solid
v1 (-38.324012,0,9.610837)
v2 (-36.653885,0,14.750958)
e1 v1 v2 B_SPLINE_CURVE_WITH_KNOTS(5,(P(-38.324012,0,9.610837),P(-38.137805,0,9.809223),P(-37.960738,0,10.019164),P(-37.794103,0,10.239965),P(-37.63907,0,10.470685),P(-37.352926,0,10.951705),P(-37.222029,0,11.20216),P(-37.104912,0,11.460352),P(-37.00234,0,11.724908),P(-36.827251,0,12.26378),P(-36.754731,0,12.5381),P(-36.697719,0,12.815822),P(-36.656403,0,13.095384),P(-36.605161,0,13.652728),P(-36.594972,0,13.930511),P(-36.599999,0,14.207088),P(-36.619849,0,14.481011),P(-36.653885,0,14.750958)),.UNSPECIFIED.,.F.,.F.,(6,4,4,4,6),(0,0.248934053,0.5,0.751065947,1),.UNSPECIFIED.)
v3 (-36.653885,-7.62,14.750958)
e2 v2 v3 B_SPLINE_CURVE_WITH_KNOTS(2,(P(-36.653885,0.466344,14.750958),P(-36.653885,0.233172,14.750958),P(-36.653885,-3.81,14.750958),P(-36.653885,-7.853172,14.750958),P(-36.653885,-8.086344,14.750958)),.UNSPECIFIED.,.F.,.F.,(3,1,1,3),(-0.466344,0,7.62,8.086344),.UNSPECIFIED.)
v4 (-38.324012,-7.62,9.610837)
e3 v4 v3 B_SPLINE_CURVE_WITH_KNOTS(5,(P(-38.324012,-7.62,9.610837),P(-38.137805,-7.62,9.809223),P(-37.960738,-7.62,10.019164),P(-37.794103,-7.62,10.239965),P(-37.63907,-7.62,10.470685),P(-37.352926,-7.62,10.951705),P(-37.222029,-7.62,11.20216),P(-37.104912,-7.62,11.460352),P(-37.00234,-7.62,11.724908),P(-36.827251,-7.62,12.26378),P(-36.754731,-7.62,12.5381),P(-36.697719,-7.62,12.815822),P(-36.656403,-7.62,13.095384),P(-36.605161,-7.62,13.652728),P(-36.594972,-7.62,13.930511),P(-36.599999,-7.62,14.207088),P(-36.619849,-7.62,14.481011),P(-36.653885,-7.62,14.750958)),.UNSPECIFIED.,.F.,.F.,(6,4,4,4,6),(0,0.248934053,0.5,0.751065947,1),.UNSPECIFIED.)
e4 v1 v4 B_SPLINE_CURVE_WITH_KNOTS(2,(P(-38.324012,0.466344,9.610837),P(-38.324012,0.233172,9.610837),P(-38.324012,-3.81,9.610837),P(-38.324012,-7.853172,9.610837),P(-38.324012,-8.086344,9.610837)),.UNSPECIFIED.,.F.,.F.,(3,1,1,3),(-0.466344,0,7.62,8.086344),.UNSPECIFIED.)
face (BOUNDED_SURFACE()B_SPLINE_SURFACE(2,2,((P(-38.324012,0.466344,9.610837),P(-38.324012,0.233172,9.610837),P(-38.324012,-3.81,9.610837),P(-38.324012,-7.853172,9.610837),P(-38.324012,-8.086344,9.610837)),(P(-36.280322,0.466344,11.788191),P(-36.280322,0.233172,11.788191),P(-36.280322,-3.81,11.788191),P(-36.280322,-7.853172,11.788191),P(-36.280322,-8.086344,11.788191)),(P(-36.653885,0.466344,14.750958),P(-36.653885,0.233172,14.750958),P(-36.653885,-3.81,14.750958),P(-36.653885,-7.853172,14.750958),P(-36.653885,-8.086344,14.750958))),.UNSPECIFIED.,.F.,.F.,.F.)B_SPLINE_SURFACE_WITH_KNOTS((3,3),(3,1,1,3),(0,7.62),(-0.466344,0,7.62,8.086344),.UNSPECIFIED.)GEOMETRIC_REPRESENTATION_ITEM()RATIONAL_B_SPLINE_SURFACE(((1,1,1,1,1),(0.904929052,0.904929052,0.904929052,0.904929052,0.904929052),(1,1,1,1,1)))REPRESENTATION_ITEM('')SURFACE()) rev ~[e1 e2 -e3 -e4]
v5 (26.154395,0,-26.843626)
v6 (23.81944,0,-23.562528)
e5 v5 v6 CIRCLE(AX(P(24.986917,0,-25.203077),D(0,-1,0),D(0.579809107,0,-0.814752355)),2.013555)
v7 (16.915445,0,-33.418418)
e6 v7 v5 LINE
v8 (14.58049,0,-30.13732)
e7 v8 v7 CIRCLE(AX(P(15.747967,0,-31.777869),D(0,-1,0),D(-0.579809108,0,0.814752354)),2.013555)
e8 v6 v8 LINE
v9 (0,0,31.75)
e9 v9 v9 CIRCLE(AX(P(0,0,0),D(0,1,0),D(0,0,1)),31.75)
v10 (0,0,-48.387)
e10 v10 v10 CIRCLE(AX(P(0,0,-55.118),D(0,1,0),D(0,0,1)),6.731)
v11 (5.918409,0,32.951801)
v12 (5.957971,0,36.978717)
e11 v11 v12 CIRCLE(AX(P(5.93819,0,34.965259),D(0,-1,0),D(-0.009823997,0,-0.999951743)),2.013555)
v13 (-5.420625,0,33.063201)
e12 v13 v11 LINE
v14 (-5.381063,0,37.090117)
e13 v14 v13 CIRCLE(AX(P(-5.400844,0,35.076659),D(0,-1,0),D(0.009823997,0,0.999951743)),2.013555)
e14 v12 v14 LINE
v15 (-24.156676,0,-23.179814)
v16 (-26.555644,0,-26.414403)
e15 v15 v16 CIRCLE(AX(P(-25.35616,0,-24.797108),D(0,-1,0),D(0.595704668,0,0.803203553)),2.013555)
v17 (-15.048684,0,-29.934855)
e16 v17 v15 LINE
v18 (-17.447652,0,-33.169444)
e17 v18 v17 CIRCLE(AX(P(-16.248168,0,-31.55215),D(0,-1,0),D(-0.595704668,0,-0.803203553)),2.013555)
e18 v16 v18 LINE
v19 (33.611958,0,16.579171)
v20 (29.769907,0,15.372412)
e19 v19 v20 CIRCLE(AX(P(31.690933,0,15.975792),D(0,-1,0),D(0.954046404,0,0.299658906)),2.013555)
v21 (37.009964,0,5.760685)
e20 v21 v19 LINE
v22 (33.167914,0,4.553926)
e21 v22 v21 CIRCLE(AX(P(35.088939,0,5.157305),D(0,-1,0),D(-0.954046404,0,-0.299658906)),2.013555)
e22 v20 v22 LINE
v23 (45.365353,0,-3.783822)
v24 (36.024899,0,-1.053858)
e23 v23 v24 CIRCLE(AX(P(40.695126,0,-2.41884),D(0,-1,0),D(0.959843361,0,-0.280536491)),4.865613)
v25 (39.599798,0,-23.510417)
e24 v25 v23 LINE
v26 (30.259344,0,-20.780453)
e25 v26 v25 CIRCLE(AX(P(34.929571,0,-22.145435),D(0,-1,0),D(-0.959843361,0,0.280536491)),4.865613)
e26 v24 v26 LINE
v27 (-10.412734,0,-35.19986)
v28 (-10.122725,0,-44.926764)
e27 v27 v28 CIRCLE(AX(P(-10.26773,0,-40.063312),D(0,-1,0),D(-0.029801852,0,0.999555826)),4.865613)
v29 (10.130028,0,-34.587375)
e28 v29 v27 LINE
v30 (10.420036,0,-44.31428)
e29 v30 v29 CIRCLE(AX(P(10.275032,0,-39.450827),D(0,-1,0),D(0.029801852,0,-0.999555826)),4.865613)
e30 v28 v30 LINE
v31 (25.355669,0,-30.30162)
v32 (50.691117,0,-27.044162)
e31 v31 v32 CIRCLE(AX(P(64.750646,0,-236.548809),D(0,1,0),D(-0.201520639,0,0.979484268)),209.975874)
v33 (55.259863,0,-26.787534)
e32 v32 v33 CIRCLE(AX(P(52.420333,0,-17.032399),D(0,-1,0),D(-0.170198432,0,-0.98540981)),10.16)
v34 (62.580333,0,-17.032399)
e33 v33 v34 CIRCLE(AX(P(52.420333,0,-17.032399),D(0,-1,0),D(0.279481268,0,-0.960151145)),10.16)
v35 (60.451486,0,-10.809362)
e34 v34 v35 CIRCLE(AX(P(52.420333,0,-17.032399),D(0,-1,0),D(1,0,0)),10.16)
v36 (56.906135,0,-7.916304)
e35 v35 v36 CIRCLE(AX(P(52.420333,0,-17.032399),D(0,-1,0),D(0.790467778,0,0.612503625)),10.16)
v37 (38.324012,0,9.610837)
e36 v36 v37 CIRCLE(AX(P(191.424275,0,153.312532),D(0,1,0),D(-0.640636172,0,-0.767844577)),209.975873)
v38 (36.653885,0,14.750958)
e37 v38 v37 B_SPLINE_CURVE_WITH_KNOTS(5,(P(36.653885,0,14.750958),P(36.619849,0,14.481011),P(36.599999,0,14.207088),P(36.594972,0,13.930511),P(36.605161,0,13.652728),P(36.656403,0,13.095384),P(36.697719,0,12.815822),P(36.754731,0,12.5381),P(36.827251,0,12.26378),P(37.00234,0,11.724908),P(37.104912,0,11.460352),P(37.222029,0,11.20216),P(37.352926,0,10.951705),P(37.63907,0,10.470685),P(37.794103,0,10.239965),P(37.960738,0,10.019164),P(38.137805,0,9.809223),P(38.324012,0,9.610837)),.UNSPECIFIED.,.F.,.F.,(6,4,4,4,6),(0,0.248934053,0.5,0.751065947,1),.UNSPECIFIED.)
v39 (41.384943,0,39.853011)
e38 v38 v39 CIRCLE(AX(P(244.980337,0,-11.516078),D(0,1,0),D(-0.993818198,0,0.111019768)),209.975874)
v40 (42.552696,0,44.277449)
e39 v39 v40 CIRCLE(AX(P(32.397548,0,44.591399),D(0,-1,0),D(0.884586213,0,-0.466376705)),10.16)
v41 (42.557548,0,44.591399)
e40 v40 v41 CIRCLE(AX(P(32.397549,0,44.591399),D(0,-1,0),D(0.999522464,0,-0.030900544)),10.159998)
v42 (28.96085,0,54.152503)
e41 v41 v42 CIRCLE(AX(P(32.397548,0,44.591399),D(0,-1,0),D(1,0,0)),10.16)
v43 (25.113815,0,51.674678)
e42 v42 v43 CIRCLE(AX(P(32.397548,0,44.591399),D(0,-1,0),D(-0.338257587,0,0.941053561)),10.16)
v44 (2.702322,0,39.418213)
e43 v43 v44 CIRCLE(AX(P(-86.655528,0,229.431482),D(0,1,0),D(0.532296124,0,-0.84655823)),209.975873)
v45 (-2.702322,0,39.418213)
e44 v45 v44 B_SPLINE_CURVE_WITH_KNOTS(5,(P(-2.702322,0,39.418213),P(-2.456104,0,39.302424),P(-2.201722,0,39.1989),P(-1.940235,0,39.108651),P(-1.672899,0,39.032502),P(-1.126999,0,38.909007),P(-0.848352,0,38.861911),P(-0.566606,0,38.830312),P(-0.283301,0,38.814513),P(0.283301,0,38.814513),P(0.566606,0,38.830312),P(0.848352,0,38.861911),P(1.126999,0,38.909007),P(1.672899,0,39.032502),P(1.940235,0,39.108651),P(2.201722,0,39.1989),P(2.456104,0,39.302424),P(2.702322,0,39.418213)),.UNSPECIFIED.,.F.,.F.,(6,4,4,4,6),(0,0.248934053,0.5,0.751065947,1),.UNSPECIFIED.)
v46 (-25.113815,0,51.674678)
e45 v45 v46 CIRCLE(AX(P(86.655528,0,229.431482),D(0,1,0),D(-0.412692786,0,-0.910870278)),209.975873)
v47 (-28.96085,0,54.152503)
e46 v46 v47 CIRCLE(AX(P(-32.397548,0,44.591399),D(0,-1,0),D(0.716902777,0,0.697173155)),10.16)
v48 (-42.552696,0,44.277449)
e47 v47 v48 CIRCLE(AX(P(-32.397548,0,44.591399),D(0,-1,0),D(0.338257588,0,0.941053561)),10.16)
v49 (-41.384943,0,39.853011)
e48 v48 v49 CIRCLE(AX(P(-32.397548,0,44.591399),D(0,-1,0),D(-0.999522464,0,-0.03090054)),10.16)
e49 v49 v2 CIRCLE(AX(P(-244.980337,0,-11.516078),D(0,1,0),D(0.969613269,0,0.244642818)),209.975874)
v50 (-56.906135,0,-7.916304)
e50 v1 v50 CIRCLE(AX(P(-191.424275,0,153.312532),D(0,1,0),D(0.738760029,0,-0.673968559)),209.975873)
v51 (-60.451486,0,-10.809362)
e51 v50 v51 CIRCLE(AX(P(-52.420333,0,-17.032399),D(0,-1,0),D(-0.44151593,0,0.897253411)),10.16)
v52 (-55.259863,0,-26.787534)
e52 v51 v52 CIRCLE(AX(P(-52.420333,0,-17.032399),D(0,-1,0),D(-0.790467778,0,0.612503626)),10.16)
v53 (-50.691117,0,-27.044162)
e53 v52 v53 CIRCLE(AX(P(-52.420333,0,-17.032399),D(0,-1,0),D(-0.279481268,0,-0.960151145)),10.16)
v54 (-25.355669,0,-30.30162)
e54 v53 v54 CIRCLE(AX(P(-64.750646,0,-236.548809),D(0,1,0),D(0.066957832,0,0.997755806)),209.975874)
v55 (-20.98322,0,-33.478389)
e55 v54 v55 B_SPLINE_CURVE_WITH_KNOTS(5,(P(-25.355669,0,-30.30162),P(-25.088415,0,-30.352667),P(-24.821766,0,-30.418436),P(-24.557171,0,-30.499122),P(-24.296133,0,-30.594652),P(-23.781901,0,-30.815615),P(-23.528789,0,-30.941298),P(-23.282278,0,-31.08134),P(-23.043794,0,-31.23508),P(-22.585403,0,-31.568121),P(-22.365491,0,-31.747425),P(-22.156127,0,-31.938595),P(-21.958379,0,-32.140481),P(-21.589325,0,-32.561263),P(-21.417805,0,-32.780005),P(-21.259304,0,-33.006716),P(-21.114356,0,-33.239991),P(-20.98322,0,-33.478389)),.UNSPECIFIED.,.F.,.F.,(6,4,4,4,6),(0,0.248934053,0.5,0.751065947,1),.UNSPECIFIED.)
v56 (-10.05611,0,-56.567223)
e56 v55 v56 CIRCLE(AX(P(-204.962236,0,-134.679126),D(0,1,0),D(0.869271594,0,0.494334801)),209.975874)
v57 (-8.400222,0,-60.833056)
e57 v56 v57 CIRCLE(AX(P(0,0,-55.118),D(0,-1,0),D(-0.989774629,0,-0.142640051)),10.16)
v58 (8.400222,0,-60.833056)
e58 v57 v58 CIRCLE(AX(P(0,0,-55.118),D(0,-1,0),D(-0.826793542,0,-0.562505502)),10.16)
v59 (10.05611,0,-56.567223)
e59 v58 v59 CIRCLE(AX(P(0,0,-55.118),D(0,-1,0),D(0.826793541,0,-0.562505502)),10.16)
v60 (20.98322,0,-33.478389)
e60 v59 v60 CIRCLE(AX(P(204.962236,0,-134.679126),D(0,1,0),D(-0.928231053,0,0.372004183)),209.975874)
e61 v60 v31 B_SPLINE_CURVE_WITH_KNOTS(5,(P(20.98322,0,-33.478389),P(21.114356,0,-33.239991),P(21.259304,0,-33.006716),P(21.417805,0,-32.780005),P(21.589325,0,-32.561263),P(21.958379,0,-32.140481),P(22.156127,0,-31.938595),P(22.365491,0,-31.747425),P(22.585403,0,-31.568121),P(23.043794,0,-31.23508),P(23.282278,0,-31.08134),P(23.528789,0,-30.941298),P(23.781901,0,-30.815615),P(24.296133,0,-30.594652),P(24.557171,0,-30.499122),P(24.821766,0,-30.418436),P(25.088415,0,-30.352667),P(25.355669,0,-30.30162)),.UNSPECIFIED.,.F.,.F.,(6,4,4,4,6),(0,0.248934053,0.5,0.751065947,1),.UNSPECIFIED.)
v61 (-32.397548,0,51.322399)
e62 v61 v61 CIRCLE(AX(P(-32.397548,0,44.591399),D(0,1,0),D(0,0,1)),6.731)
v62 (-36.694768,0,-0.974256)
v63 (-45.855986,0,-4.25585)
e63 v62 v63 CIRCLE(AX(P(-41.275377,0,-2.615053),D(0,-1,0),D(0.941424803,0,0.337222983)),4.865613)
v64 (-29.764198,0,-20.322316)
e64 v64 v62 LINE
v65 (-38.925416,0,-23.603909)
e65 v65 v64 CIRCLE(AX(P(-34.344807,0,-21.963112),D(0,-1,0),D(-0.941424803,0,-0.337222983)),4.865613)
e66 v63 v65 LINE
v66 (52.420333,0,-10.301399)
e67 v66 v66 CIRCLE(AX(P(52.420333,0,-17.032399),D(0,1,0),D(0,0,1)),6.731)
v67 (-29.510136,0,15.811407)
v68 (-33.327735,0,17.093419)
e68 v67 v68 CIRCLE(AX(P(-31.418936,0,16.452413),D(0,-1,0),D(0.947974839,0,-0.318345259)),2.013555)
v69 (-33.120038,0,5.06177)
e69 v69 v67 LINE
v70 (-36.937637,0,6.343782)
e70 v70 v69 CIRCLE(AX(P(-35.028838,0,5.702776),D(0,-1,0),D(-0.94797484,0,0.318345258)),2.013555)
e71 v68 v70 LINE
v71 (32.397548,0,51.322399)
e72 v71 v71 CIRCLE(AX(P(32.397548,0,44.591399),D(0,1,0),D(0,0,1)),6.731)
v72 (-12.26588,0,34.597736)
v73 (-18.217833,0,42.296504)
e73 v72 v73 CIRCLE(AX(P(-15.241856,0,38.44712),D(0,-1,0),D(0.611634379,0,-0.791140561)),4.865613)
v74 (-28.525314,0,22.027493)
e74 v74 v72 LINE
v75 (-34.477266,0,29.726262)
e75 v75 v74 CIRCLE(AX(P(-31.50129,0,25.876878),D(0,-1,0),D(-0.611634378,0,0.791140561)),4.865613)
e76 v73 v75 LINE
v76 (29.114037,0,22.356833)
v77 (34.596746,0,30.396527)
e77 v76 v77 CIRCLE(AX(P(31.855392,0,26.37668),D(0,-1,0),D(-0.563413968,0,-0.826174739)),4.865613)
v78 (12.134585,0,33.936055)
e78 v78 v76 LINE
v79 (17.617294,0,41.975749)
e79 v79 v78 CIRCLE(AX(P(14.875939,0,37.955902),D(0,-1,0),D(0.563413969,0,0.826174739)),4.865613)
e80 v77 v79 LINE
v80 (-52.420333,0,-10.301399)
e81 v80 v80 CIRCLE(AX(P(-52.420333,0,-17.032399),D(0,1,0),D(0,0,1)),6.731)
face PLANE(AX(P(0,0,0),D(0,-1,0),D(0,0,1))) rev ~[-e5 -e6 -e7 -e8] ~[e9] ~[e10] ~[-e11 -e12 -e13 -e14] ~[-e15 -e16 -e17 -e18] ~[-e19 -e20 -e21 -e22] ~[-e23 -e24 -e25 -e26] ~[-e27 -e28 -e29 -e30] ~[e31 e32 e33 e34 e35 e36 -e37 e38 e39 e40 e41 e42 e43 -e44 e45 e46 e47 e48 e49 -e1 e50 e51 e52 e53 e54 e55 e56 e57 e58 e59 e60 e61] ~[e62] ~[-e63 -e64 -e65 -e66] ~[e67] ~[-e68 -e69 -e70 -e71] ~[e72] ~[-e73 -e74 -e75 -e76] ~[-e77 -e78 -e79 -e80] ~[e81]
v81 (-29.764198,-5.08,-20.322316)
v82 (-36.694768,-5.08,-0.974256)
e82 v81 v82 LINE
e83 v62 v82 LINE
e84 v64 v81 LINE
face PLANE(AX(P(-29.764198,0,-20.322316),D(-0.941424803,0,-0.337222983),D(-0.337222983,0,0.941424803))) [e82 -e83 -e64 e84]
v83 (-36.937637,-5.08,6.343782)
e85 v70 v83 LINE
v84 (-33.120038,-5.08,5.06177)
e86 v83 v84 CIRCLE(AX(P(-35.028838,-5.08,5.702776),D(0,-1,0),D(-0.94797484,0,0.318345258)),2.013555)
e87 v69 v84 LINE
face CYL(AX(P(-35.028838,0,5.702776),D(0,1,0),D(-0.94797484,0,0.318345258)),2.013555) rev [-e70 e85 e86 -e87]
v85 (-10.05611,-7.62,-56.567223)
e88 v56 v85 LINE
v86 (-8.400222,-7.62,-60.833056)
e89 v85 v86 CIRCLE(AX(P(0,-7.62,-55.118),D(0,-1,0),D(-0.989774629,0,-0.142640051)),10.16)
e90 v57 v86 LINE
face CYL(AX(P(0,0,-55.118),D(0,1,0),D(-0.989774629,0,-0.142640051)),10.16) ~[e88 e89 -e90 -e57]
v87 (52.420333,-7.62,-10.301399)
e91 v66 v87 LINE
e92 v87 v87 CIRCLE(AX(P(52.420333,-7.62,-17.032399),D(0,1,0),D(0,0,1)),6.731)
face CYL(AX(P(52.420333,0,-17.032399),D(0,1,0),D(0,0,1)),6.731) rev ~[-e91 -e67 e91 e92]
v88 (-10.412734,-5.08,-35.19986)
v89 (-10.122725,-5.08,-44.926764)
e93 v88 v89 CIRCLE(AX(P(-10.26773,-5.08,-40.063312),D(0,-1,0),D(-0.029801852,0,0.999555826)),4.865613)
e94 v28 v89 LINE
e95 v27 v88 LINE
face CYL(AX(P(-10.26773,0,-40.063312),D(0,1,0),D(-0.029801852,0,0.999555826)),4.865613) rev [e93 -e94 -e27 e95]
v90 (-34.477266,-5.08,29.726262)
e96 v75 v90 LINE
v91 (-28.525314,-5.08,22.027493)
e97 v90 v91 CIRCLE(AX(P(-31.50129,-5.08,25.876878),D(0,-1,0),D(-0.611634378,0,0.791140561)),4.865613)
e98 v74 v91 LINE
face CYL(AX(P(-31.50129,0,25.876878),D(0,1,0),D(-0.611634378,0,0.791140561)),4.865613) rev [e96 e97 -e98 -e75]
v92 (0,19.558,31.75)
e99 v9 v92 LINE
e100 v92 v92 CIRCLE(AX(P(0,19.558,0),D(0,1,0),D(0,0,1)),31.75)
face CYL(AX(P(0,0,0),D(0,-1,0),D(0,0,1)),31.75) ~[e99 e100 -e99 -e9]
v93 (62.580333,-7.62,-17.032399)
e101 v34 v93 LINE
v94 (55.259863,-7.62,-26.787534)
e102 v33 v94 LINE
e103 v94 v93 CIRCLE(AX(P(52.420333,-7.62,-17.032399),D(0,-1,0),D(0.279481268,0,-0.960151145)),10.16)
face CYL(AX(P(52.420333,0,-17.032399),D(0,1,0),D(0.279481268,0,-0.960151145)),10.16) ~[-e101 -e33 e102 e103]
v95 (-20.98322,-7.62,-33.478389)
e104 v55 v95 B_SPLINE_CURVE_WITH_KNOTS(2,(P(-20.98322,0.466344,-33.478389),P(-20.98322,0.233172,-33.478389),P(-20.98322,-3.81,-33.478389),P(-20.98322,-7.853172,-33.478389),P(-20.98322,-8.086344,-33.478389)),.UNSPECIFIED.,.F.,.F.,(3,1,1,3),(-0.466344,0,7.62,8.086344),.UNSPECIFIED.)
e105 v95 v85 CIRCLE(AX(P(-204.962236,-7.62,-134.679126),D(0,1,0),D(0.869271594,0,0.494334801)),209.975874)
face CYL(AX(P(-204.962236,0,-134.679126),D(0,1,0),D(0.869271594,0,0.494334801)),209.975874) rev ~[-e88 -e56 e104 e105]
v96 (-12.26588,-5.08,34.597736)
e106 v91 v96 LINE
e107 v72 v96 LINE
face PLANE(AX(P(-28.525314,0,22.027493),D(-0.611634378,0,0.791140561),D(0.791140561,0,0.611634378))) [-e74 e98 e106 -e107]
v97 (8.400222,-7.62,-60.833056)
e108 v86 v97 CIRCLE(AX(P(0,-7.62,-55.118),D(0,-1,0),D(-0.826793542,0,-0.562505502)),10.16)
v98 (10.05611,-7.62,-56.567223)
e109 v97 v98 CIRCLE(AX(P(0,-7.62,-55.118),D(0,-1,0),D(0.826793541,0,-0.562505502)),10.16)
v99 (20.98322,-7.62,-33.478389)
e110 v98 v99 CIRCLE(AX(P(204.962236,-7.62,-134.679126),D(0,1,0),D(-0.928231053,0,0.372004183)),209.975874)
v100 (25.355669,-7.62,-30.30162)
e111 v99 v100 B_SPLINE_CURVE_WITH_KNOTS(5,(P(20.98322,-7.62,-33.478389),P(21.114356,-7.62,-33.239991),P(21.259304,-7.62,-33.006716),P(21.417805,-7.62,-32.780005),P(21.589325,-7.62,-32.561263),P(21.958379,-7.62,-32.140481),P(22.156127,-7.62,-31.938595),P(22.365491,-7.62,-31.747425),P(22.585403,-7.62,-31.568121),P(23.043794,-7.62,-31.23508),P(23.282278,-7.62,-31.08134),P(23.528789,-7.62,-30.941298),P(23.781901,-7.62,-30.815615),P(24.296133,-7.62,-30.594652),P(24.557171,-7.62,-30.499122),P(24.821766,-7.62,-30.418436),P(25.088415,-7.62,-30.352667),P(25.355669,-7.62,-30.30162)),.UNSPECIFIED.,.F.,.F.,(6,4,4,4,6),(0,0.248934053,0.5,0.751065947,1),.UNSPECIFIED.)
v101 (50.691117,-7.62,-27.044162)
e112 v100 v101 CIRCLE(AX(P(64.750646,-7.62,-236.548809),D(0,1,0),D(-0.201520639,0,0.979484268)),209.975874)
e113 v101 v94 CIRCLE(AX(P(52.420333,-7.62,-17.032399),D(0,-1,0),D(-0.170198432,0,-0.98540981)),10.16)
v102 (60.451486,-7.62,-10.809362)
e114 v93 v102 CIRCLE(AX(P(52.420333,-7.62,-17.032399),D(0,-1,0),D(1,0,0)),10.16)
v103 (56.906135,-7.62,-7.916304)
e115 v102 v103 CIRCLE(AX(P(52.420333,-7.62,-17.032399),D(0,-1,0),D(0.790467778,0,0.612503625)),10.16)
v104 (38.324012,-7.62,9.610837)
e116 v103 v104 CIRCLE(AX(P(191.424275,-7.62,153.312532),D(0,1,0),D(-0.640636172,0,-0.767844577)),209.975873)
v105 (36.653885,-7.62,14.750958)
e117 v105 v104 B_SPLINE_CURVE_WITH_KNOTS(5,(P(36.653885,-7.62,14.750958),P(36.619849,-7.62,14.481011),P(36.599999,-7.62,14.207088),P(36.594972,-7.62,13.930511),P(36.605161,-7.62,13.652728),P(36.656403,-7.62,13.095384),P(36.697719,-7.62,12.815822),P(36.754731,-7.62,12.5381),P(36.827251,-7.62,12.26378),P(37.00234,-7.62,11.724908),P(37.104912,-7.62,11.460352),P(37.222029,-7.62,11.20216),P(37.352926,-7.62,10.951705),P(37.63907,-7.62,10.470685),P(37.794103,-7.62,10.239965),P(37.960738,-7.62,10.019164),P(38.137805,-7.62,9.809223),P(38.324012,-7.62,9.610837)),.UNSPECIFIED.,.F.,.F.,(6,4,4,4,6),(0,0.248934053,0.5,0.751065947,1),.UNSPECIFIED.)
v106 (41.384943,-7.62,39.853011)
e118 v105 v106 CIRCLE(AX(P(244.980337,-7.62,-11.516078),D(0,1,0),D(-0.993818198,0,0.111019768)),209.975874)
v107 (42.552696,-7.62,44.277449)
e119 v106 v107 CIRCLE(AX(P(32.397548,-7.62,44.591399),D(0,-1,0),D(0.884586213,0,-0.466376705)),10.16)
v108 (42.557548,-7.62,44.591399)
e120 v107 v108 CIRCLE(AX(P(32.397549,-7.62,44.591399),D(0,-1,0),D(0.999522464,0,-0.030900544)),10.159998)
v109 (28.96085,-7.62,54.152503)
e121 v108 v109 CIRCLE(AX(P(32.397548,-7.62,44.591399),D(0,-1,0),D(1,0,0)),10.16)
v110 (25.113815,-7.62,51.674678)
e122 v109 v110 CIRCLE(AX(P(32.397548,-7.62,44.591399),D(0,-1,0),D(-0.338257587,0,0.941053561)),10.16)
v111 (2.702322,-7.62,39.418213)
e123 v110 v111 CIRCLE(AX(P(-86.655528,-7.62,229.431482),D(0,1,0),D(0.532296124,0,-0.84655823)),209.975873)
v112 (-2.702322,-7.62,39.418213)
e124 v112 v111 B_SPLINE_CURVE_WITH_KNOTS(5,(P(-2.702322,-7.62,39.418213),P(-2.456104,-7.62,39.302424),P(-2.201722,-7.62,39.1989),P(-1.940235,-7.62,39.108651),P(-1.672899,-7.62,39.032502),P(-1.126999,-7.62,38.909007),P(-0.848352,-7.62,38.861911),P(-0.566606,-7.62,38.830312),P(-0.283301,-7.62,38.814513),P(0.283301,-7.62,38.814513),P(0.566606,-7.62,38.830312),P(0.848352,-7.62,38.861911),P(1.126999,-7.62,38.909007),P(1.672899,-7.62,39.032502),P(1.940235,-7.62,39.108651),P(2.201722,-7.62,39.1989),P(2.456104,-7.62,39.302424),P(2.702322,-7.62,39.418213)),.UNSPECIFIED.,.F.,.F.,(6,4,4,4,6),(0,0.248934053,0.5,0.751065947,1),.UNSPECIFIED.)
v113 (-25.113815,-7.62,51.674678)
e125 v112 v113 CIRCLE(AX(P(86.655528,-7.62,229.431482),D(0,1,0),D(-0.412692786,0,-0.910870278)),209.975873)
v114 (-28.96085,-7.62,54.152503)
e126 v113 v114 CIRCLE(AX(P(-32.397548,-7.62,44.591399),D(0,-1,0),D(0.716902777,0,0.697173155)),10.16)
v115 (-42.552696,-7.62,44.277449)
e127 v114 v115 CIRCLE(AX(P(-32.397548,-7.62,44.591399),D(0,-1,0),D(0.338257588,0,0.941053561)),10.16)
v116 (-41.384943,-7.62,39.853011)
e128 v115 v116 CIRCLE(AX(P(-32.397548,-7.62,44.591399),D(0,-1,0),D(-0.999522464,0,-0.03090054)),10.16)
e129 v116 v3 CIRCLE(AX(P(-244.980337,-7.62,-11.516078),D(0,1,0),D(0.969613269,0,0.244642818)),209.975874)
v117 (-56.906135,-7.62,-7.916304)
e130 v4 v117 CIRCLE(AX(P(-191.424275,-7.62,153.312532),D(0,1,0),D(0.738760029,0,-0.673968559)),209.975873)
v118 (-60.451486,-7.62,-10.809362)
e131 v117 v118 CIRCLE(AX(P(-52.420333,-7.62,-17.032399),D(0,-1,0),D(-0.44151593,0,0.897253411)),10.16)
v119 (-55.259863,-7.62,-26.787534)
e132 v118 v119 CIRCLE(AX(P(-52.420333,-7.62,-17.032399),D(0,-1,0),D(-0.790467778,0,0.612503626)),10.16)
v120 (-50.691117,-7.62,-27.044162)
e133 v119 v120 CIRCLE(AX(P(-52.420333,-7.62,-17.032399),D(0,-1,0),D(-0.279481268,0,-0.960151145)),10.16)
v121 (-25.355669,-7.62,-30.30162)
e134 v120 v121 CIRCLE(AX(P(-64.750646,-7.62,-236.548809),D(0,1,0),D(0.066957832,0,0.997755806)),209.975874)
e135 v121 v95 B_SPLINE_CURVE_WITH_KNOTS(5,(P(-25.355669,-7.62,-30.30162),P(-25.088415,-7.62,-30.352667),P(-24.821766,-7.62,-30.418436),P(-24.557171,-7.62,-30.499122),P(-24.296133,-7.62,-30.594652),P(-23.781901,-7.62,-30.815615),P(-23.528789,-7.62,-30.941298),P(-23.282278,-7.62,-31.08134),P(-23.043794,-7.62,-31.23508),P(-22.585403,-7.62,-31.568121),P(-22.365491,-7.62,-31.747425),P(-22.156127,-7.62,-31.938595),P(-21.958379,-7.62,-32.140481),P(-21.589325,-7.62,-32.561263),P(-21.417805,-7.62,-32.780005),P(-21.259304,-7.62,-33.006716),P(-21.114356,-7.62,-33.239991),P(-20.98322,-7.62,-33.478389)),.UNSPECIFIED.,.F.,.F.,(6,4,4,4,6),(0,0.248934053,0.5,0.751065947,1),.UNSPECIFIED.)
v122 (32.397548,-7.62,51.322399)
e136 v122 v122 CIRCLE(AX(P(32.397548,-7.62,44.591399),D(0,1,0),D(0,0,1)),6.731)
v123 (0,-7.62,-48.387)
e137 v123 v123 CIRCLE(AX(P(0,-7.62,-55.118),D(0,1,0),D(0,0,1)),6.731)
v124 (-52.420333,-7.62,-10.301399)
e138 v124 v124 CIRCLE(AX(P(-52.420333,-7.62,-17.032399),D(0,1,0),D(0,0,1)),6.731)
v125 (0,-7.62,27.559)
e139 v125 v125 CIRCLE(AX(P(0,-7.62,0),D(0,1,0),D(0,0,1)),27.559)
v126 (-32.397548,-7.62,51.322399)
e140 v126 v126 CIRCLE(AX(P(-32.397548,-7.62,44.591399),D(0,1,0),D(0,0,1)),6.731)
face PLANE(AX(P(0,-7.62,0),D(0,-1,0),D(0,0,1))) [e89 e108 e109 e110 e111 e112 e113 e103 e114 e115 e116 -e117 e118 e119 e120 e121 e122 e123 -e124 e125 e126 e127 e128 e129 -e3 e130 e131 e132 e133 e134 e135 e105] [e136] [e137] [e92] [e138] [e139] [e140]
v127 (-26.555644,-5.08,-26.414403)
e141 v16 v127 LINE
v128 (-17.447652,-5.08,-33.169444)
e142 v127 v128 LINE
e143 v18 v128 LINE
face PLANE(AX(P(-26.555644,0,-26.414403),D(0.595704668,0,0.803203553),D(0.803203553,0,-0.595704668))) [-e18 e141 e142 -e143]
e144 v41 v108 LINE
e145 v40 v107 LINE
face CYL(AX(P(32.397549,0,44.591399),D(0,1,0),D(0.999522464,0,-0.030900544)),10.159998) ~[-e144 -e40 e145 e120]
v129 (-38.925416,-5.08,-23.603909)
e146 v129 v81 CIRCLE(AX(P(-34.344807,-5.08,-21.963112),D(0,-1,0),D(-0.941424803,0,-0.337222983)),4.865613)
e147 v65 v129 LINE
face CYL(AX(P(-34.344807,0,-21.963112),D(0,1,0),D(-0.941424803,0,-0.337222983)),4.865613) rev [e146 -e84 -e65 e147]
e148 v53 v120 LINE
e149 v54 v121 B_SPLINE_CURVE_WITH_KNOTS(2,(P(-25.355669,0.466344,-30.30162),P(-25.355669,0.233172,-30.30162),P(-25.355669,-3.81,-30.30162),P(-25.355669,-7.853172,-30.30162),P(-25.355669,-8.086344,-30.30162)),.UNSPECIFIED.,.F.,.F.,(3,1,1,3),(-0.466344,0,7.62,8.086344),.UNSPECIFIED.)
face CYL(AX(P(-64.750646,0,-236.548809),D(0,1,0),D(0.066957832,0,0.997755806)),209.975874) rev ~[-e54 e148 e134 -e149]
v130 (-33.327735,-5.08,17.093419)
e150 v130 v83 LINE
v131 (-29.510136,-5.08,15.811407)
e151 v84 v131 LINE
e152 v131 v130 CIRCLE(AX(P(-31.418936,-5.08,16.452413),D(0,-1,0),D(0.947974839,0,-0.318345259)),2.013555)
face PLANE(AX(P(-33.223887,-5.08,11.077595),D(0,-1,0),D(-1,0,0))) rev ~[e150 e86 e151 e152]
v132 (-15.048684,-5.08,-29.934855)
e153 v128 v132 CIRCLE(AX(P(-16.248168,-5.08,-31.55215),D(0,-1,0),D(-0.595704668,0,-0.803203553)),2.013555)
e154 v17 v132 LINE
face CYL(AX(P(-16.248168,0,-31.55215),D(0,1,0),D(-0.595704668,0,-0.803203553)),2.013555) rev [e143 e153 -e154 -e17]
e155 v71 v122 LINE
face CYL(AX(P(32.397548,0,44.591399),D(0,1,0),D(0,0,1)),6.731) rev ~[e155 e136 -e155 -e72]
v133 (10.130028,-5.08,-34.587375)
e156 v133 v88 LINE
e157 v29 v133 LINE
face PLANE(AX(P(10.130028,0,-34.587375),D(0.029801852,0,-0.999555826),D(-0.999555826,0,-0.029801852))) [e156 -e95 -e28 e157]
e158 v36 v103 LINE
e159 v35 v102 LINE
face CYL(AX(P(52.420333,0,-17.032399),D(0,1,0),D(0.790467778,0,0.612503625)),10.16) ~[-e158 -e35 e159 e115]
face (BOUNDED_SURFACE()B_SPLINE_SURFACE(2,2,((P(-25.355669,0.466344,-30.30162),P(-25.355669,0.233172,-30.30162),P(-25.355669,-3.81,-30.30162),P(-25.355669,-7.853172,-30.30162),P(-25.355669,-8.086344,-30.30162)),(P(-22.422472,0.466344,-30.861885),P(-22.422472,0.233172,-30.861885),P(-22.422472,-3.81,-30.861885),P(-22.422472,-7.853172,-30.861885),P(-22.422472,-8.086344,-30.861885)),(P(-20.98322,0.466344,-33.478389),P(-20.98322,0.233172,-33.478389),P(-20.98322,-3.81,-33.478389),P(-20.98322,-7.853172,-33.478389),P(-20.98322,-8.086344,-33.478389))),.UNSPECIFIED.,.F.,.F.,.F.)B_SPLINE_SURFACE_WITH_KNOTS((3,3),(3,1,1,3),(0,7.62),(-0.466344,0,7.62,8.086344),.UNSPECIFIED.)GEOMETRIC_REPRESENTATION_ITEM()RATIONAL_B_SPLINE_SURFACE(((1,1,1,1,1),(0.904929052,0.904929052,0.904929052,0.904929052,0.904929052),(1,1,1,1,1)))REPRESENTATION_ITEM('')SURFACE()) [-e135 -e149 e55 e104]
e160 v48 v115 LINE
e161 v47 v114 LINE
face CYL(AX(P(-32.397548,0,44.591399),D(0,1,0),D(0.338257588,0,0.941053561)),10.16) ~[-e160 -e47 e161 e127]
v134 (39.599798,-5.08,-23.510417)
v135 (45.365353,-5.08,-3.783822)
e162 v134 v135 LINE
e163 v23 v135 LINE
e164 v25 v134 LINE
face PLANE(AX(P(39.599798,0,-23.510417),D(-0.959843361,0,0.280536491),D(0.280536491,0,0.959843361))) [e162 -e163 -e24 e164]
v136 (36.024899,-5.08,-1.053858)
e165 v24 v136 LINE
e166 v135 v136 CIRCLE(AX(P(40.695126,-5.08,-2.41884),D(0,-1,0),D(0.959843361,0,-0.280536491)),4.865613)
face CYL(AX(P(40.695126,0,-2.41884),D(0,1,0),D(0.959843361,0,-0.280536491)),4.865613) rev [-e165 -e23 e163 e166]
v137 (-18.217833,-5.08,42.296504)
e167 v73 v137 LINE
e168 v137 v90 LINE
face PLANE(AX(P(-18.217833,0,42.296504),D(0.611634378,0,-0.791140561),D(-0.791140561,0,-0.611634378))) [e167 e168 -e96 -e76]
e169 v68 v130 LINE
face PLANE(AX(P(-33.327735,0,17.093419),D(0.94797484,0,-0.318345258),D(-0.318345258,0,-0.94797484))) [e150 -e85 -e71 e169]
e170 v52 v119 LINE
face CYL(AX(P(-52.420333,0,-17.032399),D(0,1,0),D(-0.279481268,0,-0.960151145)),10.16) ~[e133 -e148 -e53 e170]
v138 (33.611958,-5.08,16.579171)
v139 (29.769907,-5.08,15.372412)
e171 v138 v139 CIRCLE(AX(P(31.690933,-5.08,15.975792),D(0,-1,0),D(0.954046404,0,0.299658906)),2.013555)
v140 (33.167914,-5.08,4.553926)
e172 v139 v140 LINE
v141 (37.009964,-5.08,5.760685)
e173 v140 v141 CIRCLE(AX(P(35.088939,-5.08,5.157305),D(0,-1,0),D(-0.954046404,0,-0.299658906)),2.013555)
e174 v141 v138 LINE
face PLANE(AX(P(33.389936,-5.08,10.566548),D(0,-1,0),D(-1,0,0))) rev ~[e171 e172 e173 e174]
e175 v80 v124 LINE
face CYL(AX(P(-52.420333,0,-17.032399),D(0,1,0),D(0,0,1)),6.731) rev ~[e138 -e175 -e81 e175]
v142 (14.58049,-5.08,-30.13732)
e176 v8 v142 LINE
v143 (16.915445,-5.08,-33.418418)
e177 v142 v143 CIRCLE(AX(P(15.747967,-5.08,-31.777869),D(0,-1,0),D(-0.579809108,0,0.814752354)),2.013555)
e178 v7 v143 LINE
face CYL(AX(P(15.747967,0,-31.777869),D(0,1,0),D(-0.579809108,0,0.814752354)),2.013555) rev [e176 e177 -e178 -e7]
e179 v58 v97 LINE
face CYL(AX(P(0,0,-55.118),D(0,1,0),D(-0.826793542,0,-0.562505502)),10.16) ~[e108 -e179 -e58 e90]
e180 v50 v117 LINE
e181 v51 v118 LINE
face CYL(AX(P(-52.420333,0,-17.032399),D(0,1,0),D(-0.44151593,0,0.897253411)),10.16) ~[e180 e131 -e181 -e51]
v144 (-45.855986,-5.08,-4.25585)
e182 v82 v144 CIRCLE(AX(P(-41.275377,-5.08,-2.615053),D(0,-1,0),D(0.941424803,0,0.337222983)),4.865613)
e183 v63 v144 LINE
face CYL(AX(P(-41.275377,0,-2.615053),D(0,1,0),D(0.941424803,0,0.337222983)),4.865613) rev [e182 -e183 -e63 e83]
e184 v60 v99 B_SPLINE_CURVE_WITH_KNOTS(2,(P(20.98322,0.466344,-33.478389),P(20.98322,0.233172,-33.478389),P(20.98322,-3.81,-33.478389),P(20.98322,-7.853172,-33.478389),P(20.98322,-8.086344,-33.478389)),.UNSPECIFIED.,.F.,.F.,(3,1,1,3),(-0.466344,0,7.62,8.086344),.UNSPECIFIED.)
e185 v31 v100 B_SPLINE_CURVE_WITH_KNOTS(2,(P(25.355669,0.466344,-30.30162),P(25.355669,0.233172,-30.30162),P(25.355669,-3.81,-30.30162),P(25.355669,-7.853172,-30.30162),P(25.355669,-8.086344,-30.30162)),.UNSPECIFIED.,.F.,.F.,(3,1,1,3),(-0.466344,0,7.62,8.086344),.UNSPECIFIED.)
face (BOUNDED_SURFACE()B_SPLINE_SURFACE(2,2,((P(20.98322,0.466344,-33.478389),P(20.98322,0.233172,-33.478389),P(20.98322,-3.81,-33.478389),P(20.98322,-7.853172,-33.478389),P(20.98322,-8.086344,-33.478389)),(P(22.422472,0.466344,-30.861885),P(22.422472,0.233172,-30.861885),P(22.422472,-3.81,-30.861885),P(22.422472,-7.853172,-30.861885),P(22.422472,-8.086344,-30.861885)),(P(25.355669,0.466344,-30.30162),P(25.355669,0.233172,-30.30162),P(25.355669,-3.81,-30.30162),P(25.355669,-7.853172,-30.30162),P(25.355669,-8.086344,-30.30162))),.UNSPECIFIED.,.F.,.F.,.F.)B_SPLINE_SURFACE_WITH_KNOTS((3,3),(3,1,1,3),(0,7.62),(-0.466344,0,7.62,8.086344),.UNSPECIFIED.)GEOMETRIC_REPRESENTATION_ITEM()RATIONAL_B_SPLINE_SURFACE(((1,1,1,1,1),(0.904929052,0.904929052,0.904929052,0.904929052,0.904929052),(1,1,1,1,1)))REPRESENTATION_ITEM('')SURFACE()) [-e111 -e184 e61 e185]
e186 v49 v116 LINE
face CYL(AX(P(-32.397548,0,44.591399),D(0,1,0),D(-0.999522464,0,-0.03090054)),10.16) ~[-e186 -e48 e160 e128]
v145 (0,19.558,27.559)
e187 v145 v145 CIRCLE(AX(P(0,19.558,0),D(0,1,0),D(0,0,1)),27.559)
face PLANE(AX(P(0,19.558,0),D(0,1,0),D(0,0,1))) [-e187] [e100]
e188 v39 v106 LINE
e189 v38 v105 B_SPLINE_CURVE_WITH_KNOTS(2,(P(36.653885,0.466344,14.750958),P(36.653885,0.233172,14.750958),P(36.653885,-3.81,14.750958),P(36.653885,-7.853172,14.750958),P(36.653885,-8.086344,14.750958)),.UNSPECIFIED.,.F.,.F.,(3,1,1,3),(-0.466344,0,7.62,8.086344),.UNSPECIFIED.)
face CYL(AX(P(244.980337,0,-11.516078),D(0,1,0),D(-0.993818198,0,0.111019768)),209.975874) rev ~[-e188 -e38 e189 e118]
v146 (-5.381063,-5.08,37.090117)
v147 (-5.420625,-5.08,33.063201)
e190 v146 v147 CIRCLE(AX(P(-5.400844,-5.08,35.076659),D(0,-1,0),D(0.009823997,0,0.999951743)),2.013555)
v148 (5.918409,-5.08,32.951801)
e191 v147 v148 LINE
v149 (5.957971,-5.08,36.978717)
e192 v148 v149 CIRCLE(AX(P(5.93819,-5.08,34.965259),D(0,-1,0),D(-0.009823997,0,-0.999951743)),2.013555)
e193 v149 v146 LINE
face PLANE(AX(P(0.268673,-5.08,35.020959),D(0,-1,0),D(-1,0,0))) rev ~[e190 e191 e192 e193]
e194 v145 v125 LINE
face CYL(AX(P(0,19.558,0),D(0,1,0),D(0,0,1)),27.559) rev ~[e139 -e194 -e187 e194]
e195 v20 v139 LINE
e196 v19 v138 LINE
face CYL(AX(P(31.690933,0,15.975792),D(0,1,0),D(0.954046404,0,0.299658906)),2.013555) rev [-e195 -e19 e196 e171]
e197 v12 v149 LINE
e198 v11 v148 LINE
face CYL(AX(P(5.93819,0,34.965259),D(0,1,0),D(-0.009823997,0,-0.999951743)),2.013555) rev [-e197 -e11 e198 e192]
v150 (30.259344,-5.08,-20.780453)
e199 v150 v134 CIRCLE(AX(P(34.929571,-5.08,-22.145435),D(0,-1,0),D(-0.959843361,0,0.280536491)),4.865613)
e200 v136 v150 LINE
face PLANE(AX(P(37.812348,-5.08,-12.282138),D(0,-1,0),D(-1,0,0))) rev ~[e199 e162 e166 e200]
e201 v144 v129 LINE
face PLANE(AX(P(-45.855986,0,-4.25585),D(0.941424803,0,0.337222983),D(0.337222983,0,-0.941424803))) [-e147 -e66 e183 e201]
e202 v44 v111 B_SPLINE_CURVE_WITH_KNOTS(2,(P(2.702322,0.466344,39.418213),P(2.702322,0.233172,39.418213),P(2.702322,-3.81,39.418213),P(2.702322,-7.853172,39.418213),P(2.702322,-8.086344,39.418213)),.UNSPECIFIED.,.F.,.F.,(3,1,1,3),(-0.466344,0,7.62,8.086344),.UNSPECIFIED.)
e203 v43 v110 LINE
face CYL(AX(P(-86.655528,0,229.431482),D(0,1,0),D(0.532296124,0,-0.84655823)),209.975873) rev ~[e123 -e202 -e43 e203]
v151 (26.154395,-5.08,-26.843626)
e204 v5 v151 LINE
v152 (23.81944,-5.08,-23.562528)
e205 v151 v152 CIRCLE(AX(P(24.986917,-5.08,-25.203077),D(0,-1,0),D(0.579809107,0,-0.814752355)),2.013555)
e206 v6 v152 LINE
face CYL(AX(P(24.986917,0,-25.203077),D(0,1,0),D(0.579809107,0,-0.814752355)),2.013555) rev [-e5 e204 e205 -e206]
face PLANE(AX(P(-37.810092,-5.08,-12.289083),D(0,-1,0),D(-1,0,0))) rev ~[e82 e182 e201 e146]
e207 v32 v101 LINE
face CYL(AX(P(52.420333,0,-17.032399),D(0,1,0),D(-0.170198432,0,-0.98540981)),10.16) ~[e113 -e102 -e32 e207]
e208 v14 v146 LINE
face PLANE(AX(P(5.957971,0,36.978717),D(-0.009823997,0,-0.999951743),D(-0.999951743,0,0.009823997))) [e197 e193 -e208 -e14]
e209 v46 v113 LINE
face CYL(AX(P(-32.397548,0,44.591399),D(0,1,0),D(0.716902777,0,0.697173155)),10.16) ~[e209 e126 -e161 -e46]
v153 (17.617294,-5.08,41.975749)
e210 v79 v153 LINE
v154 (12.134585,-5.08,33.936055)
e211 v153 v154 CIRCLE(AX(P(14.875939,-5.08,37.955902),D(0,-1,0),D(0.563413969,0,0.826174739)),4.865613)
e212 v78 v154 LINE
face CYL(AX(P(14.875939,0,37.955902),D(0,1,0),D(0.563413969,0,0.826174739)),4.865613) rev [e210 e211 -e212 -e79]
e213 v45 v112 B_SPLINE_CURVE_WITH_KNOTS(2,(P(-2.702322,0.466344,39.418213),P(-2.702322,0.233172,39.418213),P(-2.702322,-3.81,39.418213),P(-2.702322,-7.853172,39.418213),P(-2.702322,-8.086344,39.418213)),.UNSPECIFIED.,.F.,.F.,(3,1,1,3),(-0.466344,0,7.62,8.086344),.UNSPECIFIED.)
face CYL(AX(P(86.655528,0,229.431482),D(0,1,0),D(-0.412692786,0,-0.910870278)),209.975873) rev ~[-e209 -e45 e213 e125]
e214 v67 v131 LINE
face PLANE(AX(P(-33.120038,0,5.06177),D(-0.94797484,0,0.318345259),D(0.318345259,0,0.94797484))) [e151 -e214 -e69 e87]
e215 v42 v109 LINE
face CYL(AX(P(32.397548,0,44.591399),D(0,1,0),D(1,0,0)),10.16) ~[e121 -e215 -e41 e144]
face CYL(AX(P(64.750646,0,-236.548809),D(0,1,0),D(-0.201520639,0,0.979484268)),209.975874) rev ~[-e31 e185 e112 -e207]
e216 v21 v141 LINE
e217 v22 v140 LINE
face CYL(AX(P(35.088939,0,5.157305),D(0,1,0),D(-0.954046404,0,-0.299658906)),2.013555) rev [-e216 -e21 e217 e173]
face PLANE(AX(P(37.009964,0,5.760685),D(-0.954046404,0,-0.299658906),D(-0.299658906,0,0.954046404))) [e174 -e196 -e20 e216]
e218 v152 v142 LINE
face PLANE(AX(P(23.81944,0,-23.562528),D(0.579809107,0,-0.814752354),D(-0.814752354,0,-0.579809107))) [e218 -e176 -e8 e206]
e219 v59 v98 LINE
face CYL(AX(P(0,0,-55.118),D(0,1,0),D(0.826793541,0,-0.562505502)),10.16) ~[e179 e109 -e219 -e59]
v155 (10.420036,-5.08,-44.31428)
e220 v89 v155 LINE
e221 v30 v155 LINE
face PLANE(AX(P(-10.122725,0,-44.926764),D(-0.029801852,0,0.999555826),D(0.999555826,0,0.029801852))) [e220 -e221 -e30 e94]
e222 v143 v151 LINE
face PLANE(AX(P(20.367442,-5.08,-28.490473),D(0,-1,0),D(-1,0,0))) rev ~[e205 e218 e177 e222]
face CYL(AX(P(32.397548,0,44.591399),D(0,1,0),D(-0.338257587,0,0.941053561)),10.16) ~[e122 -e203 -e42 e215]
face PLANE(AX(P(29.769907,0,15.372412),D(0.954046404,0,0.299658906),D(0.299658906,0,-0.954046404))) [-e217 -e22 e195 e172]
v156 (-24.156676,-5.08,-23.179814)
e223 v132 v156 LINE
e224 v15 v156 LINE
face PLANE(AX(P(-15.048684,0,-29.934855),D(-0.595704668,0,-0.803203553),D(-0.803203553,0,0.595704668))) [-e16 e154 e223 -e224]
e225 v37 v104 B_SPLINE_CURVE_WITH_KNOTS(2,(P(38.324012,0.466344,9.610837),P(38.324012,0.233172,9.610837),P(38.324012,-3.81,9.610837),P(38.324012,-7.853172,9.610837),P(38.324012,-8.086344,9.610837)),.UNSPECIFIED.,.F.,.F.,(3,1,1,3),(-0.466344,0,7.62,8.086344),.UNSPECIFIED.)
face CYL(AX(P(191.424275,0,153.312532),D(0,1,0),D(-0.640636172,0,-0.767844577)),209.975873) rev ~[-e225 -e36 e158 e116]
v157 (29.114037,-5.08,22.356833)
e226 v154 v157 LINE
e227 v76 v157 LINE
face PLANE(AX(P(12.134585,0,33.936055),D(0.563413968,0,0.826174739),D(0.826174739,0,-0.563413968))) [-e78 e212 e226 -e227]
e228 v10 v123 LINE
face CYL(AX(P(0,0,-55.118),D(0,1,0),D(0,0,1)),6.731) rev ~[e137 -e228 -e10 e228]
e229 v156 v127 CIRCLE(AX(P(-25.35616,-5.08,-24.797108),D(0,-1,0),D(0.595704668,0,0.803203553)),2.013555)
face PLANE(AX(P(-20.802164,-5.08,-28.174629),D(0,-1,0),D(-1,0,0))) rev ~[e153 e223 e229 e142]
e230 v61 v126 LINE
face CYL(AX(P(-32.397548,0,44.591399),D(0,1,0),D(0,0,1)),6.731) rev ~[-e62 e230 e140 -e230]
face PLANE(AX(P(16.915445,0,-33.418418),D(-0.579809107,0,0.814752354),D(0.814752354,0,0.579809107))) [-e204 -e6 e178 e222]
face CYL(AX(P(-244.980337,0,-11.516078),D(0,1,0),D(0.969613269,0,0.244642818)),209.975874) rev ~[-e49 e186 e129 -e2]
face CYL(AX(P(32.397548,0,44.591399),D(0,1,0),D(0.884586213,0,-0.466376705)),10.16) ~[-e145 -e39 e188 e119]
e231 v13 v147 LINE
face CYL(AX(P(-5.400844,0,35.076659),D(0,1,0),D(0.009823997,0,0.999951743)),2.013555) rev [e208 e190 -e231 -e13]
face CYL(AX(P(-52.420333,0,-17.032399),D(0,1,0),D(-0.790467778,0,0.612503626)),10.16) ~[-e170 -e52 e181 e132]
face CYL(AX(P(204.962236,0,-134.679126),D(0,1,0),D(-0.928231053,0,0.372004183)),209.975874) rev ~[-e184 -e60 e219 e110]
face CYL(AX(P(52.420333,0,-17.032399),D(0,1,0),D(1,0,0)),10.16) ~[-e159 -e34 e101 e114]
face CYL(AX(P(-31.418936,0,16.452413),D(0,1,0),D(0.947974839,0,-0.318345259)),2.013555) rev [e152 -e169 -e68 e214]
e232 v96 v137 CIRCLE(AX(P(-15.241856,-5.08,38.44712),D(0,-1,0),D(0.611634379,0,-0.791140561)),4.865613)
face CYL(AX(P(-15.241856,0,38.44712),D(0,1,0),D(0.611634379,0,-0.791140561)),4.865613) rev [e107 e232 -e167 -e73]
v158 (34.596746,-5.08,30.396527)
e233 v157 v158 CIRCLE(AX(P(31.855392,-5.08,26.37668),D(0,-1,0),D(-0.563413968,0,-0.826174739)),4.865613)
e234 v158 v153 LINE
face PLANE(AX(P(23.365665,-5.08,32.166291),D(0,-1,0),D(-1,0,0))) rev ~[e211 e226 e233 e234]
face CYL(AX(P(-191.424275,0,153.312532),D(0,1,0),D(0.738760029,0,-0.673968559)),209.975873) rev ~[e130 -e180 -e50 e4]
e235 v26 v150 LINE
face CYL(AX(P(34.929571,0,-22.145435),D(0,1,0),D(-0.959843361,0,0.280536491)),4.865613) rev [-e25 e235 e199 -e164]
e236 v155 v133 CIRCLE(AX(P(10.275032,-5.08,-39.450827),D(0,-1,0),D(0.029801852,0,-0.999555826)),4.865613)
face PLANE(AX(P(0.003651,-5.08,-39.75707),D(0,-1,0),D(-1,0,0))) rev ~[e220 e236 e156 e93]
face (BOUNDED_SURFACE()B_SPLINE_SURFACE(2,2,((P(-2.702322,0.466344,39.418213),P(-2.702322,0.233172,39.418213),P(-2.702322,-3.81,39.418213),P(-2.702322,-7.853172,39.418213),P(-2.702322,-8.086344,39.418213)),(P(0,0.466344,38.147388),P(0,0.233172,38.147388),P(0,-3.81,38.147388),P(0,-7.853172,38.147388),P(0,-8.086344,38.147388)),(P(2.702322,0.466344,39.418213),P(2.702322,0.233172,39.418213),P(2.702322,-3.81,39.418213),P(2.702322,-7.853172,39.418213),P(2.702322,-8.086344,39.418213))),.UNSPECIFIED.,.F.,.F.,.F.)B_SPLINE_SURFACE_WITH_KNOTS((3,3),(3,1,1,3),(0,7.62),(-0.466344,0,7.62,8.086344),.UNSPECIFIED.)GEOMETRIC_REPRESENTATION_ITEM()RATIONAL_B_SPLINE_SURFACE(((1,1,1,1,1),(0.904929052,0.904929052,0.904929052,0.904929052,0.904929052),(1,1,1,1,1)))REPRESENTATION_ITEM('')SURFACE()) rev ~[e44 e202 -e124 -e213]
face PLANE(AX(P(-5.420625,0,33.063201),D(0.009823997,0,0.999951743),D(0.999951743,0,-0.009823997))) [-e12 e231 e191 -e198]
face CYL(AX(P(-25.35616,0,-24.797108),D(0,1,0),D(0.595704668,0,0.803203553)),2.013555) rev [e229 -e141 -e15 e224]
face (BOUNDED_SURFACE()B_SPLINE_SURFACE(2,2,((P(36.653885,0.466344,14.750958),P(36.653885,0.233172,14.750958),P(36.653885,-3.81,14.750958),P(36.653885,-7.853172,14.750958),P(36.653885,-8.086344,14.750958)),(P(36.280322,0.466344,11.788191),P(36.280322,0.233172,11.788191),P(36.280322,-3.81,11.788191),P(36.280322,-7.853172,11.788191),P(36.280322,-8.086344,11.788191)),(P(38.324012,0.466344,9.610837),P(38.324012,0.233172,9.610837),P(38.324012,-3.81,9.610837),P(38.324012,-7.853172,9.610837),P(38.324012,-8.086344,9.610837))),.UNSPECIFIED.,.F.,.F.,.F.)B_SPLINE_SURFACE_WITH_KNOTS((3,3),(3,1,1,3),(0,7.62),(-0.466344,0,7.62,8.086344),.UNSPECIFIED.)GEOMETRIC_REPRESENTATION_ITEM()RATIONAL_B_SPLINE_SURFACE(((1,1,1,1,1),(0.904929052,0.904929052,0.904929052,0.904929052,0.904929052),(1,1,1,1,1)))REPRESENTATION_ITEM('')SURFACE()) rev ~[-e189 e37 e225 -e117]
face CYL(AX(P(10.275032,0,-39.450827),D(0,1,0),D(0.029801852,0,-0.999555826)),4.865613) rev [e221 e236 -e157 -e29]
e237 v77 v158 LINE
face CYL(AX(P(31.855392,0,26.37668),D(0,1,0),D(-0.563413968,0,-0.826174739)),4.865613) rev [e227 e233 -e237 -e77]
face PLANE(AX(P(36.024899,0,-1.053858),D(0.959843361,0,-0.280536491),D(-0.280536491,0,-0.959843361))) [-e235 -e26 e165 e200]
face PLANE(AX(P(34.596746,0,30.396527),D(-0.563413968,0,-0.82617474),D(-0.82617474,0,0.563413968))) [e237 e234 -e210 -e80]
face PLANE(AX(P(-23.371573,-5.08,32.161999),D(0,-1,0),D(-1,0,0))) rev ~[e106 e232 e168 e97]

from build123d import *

# Parameters (mm, degrees)
SKETCH1_R                 = 31.75
CENTERCIRCLEEXTRUDE_DEPTH = 19.558
SKETCH2_R                 = 80.01
BASEEXPAND_DEPTH          = 7.62
SKETCH3_R                 = 27.559
CENTERCUT_DEPTH           = 27.178
SKETCH4_R                 = 6.731
OUTERCIRCLECUT_DEPTH      = 7.62
SKETCH8_R                 = 80.01
STARFISHCUT_DEPTH         = 7.62
BATMAN_CUT_DEPTH          = 5.08
FILLET12_R                = 6.35


with BuildPart() as part:
    # Sketch1 → CenterCircleExtrude (new body)
    with BuildSketch(Plane(origin=(0, 0, 0), x_dir=(1, 0, 0), z_dir=(0, 1, 0))):
        Circle(SKETCH1_R)
    extrude(amount=CENTERCIRCLEEXTRUDE_DEPTH)

    # Sketch2 → BaseExpand (add)
    with BuildSketch(Plane.XZ):
        Circle(SKETCH2_R)
    extrude(amount=BASEEXPAND_DEPTH)

    # Sketch3 → CenterCut (cut)
    with BuildSketch(Plane(origin=(0, 19.558, 0), x_dir=(1, 0, 0), z_dir=(0, 1, 0))):
        Circle(SKETCH3_R)
    extrude(amount=-CENTERCUT_DEPTH, mode=Mode.SUBTRACT)

    # Sketch4 → OuterCircleCut (cut)
    with BuildSketch(Plane(origin=(0, 0, 0), x_dir=(1, 0, 0), z_dir=(0, 1, 0))):
        with Locations((0, 55.118)):
            Circle(SKETCH4_R)
        with Locations((52.420333065, 17.032398696)):
            Circle(SKETCH4_R)
        with Locations((32.397547536, -44.591398696)):
            Circle(SKETCH4_R)
        with Locations((-32.397547536, -44.591398696)):
            Circle(SKETCH4_R)
        with Locations((-52.420333065, 17.032398696)):
            Circle(SKETCH4_R)
    extrude(amount=-OUTERCIRCLECUT_DEPTH, mode=Mode.SUBTRACT)

    # Sketch8 → StarfishCut (cut)
    with BuildSketch(Plane(origin=(0, 0, 0), x_dir=(1, 0, 0), z_dir=(0, 1, 0))):
        Circle(SKETCH8_R)
        with BuildLine():
            ThreePointArc((-60.451485692, 10.809361858), (-62.083067271, 20.172011359), (-55.259862746, 26.787534327))
            ThreePointArc((-55.259862746, 26.787534327), (-52.990125634, 27.176408575), (-50.691117004, 27.044162367))
            ThreePointArc((-50.691117004, 27.044162367), (-36.498445494, 28.482280038), (-22.436174146, 30.88074446))
            ThreePointArc((-22.436174146, 30.88074446), (-15.809618103, 43.513592992), (-10.056110229, 56.567222915))
            ThreePointArc((-10.056110229, 56.567222915), (-9.47145111, 58.794576379), (-8.400222382, 60.833055899))
            ThreePointArc((-8.400222382, 60.833055899), (0, 65.278), (8.400222382, 60.833055899))
            ThreePointArc((8.400222382, 60.833055899), (9.47145111, 58.794576379), (10.056110229, 56.567222915))
            ThreePointArc((10.056110229, 56.567222915), (15.809618103, 43.513592992), (22.436174146, 30.88074446))
            ThreePointArc((22.436174146, 30.88074446), (36.498445494, 28.482280038), (50.691117004, 27.044162367))
            ThreePointArc((50.691117004, 27.044162367), (52.990125634, 27.176408575), (55.259862746, 26.787534327))
            ThreePointArc((55.259862746, 26.787534327), (60.546685924, 23.130594267), (62.580333065, 17.032398696))
            ThreePointArc((62.580333065, 17.032398696), (62.033399971, 13.743851196), (60.451485692, 10.809361858))
            ThreePointArc((60.451485692, 10.809361858), (58.843804343, 9.160637981), (56.90613492, 7.916304043))
            ThreePointArc((56.90613492, 7.916304043), (46.26932683, -1.589400596), (36.302492346, -11.795394786))
            ThreePointArc((36.302492346, -11.795394786), (38.366897955, -25.910575851), (41.384943465, -39.853011375))
            ThreePointArc((41.384943465, -39.853011375), (42.22114982, -41.998632188), (42.552695773, -44.27744921))
            ThreePointArc((42.552695773, -44.27744921), (42.556334523, -44.434405209), (42.557547536, -44.591398696))
            ThreePointArc((42.557547536, -44.591398696), (38.241722309, -52.902308467), (28.960850446, -54.152502874))
            ThreePointArc((28.960850446, -54.152502874), (26.896020001, -53.132990748), (25.11381532, -51.674677951))
            ThreePointArc((25.11381532, -51.674677951), (12.786398515, -44.495896582), (0, -38.170699348))
            ThreePointArc((0, -38.170699348), (-12.786398515, -44.495896582), (-25.11381532, -51.674677951))
            ThreePointArc((-25.11381532, -51.674677951), (-26.896020001, -53.132990748), (-28.960850446, -54.152502874))
            ThreePointArc((-28.960850446, -54.152502874), (-38.369445699, -52.811011359), (-42.552695773, -44.27744921))
            ThreePointArc((-42.552695773, -44.27744921), (-42.22114982, -41.998632188), (-41.384943465, -39.853011375))
            ThreePointArc((-41.384943465, -39.853011375), (-38.366897955, -25.910575851), (-36.302492346, -11.795394786))
            ThreePointArc((-36.302492346, -11.795394786), (-46.26932683, -1.589400596), (-56.90613492, 7.916304043))
            ThreePointArc((-56.90613492, 7.916304043), (-58.843804343, 9.160637981), (-60.451485692, 10.809361858))
        make_face(mode=Mode.SUBTRACT)
    extrude(amount=-STARFISHCUT_DEPTH, mode=Mode.SUBTRACT)

    # Sketch14 → Batman Cut (cut)
    with BuildSketch(Plane(origin=(0, 0, 0), x_dir=(1, 0, 0), z_dir=(0, 1, 0))):
        with BuildLine():
            Line((-33.120038048, -5.061770157), (-29.510136252, -15.81140749))
            ThreePointArc((-29.510136252, -15.81140749), (-30.777930128, -18.361212827), (-33.327735465, -17.093418951))
            Line((-33.327735465, -17.093418951), (-36.937637261, -6.343781617))
            ThreePointArc((-36.937637261, -6.343781617), (-35.669843385, -3.793976281), (-33.120038048, -5.061770157))
        make_face()
        with BuildLine():
            Line((-15.048684103, 29.934855006), (-24.156675734, 23.17981376))
            ThreePointArc((-24.156675734, 23.17981376), (-26.973454567, 23.597624206), (-26.555644121, 26.414403039))
            Line((-26.555644121, 26.414403039), (-17.447652491, 33.169444285))
            ThreePointArc((-17.447652491, 33.169444285), (-14.630873657, 32.751633839), (-15.048684103, 29.934855006))
        make_face()
        with BuildLine():
            Line((23.819439787, 23.562527999), (14.580489593, 30.137320247))
            ThreePointArc((14.580489593, 30.137320247), (14.107418412, 32.94534664), (16.915444805, 33.418417821))
            Line((16.915444805, 33.418417821), (26.154394998, 26.843625573))
            ThreePointArc((26.154394998, 26.843625573), (26.62746618, 24.03559918), (23.819439787, 23.562527999))
        make_face()
        with BuildLine():
            Line((29.769907484, -15.372411842), (33.167913875, -4.553925517))
            ThreePointArc((33.167913875, -4.553925517), (35.692318639, -3.236280211), (37.009963945, -5.760684975))
            Line((37.009963945, -5.760684975), (33.611957554, -16.5791713))
            ThreePointArc((33.611957554, -16.5791713), (31.08755279, -17.896816606), (29.769907484, -15.372411842))
        make_face()
        with BuildLine():
            Line((-5.42062512, -33.063201006), (5.918408517, -32.951800999))
            ThreePointArc((5.918408517, -32.951800999), (7.951647645, -34.945477807), (5.957970836, -36.978716935))
            Line((5.957970836, -36.978716935), (-5.381062801, -37.090116942))
            ThreePointArc((-5.381062801, -37.090116942), (-7.414301928, -35.096440133), (-5.42062512, -33.063201006))
        make_face()
        with BuildLine():
            Line((-28.525313555, -22.027493495), (-12.265879706, -34.597736013))
            ThreePointArc((-12.265879706, -34.597736013), (-11.392472024, -41.423096527), (-18.217832537, -42.29650421))
            Line((-18.217832537, -42.29650421), (-34.477266386, -29.726261691))
            ThreePointArc((-34.477266386, -29.726261691), (-35.350674069, -22.900901178), (-28.525313555, -22.027493495))
        make_face()
        with BuildLine():
            Line((-29.764197885, 20.322315503), (-36.694767565, 0.974256428))
            ThreePointArc((-36.694767565, 0.974256428), (-42.91617334, -1.965556032), (-45.8559858, 4.255849744))
            Line((-45.8559858, 4.255849744), (-38.925416119, 23.603908818))
            ThreePointArc((-38.925416119, 23.603908818), (-32.704010344, 26.543721278), (-29.764197885, 20.322315503))
        make_face()
        with BuildLine():
            Line((10.130027615, 34.587375206), (-10.412733858, 35.1998596))
            ThreePointArc((-10.412733858, 35.1998596), (-15.131181768, 40.208316093), (-10.122725275, 44.926764002))
            Line((-10.122725275, 44.926764002), (10.420036198, 44.314279608))
            ThreePointArc((10.420036198, 44.314279608), (15.138484108, 39.305823116), (10.130027615, 34.587375206))
        make_face()
        with BuildLine():
            Line((36.024899257, 1.053857956), (30.259344125, 20.780453204))
            ThreePointArc((30.259344125, 20.780453204), (33.564588718, 26.815662007), (39.599797521, 23.510417414))
            Line((39.599797521, 23.510417414), (45.365352654, 3.783822167))
            ThreePointArc((45.365352654, 3.783822167), (42.060108061, -2.251386637), (36.024899257, 1.053857956))
        make_face()
        with BuildLine():
            Line((12.134584568, -33.93605517), (29.114037004, -22.356833218))
            ThreePointArc((29.114037004, -22.356833218), (35.875238414, -23.635325541), (34.596746091, -30.396526951))
            Line((34.596746091, -30.396526951), (17.617293654, -41.975748902))
            ThreePointArc((17.617293654, -41.975748902), (10.856092244, -40.697256579), (12.134584568, -33.93605517))
        make_face()
    extrude(amount=-BATMAN_CUT_DEPTH, mode=Mode.SUBTRACT)

    # Fillet12
    fillet12_edges = [part.edges().sort_by_distance(p)[0] for p in [
        (-36.302492346, -3.81, 11.795394786),
        (0, -3.81, 38.170699348),
        (36.302492346, -3.81, 11.795394786),
        (22.436174146, -3.81, -30.88074446),
        (-22.436174146, -3.81, -30.88074446),
    ]]
    fillet(fillet12_edges, radius=FILLET12_R)


solid = part.part
